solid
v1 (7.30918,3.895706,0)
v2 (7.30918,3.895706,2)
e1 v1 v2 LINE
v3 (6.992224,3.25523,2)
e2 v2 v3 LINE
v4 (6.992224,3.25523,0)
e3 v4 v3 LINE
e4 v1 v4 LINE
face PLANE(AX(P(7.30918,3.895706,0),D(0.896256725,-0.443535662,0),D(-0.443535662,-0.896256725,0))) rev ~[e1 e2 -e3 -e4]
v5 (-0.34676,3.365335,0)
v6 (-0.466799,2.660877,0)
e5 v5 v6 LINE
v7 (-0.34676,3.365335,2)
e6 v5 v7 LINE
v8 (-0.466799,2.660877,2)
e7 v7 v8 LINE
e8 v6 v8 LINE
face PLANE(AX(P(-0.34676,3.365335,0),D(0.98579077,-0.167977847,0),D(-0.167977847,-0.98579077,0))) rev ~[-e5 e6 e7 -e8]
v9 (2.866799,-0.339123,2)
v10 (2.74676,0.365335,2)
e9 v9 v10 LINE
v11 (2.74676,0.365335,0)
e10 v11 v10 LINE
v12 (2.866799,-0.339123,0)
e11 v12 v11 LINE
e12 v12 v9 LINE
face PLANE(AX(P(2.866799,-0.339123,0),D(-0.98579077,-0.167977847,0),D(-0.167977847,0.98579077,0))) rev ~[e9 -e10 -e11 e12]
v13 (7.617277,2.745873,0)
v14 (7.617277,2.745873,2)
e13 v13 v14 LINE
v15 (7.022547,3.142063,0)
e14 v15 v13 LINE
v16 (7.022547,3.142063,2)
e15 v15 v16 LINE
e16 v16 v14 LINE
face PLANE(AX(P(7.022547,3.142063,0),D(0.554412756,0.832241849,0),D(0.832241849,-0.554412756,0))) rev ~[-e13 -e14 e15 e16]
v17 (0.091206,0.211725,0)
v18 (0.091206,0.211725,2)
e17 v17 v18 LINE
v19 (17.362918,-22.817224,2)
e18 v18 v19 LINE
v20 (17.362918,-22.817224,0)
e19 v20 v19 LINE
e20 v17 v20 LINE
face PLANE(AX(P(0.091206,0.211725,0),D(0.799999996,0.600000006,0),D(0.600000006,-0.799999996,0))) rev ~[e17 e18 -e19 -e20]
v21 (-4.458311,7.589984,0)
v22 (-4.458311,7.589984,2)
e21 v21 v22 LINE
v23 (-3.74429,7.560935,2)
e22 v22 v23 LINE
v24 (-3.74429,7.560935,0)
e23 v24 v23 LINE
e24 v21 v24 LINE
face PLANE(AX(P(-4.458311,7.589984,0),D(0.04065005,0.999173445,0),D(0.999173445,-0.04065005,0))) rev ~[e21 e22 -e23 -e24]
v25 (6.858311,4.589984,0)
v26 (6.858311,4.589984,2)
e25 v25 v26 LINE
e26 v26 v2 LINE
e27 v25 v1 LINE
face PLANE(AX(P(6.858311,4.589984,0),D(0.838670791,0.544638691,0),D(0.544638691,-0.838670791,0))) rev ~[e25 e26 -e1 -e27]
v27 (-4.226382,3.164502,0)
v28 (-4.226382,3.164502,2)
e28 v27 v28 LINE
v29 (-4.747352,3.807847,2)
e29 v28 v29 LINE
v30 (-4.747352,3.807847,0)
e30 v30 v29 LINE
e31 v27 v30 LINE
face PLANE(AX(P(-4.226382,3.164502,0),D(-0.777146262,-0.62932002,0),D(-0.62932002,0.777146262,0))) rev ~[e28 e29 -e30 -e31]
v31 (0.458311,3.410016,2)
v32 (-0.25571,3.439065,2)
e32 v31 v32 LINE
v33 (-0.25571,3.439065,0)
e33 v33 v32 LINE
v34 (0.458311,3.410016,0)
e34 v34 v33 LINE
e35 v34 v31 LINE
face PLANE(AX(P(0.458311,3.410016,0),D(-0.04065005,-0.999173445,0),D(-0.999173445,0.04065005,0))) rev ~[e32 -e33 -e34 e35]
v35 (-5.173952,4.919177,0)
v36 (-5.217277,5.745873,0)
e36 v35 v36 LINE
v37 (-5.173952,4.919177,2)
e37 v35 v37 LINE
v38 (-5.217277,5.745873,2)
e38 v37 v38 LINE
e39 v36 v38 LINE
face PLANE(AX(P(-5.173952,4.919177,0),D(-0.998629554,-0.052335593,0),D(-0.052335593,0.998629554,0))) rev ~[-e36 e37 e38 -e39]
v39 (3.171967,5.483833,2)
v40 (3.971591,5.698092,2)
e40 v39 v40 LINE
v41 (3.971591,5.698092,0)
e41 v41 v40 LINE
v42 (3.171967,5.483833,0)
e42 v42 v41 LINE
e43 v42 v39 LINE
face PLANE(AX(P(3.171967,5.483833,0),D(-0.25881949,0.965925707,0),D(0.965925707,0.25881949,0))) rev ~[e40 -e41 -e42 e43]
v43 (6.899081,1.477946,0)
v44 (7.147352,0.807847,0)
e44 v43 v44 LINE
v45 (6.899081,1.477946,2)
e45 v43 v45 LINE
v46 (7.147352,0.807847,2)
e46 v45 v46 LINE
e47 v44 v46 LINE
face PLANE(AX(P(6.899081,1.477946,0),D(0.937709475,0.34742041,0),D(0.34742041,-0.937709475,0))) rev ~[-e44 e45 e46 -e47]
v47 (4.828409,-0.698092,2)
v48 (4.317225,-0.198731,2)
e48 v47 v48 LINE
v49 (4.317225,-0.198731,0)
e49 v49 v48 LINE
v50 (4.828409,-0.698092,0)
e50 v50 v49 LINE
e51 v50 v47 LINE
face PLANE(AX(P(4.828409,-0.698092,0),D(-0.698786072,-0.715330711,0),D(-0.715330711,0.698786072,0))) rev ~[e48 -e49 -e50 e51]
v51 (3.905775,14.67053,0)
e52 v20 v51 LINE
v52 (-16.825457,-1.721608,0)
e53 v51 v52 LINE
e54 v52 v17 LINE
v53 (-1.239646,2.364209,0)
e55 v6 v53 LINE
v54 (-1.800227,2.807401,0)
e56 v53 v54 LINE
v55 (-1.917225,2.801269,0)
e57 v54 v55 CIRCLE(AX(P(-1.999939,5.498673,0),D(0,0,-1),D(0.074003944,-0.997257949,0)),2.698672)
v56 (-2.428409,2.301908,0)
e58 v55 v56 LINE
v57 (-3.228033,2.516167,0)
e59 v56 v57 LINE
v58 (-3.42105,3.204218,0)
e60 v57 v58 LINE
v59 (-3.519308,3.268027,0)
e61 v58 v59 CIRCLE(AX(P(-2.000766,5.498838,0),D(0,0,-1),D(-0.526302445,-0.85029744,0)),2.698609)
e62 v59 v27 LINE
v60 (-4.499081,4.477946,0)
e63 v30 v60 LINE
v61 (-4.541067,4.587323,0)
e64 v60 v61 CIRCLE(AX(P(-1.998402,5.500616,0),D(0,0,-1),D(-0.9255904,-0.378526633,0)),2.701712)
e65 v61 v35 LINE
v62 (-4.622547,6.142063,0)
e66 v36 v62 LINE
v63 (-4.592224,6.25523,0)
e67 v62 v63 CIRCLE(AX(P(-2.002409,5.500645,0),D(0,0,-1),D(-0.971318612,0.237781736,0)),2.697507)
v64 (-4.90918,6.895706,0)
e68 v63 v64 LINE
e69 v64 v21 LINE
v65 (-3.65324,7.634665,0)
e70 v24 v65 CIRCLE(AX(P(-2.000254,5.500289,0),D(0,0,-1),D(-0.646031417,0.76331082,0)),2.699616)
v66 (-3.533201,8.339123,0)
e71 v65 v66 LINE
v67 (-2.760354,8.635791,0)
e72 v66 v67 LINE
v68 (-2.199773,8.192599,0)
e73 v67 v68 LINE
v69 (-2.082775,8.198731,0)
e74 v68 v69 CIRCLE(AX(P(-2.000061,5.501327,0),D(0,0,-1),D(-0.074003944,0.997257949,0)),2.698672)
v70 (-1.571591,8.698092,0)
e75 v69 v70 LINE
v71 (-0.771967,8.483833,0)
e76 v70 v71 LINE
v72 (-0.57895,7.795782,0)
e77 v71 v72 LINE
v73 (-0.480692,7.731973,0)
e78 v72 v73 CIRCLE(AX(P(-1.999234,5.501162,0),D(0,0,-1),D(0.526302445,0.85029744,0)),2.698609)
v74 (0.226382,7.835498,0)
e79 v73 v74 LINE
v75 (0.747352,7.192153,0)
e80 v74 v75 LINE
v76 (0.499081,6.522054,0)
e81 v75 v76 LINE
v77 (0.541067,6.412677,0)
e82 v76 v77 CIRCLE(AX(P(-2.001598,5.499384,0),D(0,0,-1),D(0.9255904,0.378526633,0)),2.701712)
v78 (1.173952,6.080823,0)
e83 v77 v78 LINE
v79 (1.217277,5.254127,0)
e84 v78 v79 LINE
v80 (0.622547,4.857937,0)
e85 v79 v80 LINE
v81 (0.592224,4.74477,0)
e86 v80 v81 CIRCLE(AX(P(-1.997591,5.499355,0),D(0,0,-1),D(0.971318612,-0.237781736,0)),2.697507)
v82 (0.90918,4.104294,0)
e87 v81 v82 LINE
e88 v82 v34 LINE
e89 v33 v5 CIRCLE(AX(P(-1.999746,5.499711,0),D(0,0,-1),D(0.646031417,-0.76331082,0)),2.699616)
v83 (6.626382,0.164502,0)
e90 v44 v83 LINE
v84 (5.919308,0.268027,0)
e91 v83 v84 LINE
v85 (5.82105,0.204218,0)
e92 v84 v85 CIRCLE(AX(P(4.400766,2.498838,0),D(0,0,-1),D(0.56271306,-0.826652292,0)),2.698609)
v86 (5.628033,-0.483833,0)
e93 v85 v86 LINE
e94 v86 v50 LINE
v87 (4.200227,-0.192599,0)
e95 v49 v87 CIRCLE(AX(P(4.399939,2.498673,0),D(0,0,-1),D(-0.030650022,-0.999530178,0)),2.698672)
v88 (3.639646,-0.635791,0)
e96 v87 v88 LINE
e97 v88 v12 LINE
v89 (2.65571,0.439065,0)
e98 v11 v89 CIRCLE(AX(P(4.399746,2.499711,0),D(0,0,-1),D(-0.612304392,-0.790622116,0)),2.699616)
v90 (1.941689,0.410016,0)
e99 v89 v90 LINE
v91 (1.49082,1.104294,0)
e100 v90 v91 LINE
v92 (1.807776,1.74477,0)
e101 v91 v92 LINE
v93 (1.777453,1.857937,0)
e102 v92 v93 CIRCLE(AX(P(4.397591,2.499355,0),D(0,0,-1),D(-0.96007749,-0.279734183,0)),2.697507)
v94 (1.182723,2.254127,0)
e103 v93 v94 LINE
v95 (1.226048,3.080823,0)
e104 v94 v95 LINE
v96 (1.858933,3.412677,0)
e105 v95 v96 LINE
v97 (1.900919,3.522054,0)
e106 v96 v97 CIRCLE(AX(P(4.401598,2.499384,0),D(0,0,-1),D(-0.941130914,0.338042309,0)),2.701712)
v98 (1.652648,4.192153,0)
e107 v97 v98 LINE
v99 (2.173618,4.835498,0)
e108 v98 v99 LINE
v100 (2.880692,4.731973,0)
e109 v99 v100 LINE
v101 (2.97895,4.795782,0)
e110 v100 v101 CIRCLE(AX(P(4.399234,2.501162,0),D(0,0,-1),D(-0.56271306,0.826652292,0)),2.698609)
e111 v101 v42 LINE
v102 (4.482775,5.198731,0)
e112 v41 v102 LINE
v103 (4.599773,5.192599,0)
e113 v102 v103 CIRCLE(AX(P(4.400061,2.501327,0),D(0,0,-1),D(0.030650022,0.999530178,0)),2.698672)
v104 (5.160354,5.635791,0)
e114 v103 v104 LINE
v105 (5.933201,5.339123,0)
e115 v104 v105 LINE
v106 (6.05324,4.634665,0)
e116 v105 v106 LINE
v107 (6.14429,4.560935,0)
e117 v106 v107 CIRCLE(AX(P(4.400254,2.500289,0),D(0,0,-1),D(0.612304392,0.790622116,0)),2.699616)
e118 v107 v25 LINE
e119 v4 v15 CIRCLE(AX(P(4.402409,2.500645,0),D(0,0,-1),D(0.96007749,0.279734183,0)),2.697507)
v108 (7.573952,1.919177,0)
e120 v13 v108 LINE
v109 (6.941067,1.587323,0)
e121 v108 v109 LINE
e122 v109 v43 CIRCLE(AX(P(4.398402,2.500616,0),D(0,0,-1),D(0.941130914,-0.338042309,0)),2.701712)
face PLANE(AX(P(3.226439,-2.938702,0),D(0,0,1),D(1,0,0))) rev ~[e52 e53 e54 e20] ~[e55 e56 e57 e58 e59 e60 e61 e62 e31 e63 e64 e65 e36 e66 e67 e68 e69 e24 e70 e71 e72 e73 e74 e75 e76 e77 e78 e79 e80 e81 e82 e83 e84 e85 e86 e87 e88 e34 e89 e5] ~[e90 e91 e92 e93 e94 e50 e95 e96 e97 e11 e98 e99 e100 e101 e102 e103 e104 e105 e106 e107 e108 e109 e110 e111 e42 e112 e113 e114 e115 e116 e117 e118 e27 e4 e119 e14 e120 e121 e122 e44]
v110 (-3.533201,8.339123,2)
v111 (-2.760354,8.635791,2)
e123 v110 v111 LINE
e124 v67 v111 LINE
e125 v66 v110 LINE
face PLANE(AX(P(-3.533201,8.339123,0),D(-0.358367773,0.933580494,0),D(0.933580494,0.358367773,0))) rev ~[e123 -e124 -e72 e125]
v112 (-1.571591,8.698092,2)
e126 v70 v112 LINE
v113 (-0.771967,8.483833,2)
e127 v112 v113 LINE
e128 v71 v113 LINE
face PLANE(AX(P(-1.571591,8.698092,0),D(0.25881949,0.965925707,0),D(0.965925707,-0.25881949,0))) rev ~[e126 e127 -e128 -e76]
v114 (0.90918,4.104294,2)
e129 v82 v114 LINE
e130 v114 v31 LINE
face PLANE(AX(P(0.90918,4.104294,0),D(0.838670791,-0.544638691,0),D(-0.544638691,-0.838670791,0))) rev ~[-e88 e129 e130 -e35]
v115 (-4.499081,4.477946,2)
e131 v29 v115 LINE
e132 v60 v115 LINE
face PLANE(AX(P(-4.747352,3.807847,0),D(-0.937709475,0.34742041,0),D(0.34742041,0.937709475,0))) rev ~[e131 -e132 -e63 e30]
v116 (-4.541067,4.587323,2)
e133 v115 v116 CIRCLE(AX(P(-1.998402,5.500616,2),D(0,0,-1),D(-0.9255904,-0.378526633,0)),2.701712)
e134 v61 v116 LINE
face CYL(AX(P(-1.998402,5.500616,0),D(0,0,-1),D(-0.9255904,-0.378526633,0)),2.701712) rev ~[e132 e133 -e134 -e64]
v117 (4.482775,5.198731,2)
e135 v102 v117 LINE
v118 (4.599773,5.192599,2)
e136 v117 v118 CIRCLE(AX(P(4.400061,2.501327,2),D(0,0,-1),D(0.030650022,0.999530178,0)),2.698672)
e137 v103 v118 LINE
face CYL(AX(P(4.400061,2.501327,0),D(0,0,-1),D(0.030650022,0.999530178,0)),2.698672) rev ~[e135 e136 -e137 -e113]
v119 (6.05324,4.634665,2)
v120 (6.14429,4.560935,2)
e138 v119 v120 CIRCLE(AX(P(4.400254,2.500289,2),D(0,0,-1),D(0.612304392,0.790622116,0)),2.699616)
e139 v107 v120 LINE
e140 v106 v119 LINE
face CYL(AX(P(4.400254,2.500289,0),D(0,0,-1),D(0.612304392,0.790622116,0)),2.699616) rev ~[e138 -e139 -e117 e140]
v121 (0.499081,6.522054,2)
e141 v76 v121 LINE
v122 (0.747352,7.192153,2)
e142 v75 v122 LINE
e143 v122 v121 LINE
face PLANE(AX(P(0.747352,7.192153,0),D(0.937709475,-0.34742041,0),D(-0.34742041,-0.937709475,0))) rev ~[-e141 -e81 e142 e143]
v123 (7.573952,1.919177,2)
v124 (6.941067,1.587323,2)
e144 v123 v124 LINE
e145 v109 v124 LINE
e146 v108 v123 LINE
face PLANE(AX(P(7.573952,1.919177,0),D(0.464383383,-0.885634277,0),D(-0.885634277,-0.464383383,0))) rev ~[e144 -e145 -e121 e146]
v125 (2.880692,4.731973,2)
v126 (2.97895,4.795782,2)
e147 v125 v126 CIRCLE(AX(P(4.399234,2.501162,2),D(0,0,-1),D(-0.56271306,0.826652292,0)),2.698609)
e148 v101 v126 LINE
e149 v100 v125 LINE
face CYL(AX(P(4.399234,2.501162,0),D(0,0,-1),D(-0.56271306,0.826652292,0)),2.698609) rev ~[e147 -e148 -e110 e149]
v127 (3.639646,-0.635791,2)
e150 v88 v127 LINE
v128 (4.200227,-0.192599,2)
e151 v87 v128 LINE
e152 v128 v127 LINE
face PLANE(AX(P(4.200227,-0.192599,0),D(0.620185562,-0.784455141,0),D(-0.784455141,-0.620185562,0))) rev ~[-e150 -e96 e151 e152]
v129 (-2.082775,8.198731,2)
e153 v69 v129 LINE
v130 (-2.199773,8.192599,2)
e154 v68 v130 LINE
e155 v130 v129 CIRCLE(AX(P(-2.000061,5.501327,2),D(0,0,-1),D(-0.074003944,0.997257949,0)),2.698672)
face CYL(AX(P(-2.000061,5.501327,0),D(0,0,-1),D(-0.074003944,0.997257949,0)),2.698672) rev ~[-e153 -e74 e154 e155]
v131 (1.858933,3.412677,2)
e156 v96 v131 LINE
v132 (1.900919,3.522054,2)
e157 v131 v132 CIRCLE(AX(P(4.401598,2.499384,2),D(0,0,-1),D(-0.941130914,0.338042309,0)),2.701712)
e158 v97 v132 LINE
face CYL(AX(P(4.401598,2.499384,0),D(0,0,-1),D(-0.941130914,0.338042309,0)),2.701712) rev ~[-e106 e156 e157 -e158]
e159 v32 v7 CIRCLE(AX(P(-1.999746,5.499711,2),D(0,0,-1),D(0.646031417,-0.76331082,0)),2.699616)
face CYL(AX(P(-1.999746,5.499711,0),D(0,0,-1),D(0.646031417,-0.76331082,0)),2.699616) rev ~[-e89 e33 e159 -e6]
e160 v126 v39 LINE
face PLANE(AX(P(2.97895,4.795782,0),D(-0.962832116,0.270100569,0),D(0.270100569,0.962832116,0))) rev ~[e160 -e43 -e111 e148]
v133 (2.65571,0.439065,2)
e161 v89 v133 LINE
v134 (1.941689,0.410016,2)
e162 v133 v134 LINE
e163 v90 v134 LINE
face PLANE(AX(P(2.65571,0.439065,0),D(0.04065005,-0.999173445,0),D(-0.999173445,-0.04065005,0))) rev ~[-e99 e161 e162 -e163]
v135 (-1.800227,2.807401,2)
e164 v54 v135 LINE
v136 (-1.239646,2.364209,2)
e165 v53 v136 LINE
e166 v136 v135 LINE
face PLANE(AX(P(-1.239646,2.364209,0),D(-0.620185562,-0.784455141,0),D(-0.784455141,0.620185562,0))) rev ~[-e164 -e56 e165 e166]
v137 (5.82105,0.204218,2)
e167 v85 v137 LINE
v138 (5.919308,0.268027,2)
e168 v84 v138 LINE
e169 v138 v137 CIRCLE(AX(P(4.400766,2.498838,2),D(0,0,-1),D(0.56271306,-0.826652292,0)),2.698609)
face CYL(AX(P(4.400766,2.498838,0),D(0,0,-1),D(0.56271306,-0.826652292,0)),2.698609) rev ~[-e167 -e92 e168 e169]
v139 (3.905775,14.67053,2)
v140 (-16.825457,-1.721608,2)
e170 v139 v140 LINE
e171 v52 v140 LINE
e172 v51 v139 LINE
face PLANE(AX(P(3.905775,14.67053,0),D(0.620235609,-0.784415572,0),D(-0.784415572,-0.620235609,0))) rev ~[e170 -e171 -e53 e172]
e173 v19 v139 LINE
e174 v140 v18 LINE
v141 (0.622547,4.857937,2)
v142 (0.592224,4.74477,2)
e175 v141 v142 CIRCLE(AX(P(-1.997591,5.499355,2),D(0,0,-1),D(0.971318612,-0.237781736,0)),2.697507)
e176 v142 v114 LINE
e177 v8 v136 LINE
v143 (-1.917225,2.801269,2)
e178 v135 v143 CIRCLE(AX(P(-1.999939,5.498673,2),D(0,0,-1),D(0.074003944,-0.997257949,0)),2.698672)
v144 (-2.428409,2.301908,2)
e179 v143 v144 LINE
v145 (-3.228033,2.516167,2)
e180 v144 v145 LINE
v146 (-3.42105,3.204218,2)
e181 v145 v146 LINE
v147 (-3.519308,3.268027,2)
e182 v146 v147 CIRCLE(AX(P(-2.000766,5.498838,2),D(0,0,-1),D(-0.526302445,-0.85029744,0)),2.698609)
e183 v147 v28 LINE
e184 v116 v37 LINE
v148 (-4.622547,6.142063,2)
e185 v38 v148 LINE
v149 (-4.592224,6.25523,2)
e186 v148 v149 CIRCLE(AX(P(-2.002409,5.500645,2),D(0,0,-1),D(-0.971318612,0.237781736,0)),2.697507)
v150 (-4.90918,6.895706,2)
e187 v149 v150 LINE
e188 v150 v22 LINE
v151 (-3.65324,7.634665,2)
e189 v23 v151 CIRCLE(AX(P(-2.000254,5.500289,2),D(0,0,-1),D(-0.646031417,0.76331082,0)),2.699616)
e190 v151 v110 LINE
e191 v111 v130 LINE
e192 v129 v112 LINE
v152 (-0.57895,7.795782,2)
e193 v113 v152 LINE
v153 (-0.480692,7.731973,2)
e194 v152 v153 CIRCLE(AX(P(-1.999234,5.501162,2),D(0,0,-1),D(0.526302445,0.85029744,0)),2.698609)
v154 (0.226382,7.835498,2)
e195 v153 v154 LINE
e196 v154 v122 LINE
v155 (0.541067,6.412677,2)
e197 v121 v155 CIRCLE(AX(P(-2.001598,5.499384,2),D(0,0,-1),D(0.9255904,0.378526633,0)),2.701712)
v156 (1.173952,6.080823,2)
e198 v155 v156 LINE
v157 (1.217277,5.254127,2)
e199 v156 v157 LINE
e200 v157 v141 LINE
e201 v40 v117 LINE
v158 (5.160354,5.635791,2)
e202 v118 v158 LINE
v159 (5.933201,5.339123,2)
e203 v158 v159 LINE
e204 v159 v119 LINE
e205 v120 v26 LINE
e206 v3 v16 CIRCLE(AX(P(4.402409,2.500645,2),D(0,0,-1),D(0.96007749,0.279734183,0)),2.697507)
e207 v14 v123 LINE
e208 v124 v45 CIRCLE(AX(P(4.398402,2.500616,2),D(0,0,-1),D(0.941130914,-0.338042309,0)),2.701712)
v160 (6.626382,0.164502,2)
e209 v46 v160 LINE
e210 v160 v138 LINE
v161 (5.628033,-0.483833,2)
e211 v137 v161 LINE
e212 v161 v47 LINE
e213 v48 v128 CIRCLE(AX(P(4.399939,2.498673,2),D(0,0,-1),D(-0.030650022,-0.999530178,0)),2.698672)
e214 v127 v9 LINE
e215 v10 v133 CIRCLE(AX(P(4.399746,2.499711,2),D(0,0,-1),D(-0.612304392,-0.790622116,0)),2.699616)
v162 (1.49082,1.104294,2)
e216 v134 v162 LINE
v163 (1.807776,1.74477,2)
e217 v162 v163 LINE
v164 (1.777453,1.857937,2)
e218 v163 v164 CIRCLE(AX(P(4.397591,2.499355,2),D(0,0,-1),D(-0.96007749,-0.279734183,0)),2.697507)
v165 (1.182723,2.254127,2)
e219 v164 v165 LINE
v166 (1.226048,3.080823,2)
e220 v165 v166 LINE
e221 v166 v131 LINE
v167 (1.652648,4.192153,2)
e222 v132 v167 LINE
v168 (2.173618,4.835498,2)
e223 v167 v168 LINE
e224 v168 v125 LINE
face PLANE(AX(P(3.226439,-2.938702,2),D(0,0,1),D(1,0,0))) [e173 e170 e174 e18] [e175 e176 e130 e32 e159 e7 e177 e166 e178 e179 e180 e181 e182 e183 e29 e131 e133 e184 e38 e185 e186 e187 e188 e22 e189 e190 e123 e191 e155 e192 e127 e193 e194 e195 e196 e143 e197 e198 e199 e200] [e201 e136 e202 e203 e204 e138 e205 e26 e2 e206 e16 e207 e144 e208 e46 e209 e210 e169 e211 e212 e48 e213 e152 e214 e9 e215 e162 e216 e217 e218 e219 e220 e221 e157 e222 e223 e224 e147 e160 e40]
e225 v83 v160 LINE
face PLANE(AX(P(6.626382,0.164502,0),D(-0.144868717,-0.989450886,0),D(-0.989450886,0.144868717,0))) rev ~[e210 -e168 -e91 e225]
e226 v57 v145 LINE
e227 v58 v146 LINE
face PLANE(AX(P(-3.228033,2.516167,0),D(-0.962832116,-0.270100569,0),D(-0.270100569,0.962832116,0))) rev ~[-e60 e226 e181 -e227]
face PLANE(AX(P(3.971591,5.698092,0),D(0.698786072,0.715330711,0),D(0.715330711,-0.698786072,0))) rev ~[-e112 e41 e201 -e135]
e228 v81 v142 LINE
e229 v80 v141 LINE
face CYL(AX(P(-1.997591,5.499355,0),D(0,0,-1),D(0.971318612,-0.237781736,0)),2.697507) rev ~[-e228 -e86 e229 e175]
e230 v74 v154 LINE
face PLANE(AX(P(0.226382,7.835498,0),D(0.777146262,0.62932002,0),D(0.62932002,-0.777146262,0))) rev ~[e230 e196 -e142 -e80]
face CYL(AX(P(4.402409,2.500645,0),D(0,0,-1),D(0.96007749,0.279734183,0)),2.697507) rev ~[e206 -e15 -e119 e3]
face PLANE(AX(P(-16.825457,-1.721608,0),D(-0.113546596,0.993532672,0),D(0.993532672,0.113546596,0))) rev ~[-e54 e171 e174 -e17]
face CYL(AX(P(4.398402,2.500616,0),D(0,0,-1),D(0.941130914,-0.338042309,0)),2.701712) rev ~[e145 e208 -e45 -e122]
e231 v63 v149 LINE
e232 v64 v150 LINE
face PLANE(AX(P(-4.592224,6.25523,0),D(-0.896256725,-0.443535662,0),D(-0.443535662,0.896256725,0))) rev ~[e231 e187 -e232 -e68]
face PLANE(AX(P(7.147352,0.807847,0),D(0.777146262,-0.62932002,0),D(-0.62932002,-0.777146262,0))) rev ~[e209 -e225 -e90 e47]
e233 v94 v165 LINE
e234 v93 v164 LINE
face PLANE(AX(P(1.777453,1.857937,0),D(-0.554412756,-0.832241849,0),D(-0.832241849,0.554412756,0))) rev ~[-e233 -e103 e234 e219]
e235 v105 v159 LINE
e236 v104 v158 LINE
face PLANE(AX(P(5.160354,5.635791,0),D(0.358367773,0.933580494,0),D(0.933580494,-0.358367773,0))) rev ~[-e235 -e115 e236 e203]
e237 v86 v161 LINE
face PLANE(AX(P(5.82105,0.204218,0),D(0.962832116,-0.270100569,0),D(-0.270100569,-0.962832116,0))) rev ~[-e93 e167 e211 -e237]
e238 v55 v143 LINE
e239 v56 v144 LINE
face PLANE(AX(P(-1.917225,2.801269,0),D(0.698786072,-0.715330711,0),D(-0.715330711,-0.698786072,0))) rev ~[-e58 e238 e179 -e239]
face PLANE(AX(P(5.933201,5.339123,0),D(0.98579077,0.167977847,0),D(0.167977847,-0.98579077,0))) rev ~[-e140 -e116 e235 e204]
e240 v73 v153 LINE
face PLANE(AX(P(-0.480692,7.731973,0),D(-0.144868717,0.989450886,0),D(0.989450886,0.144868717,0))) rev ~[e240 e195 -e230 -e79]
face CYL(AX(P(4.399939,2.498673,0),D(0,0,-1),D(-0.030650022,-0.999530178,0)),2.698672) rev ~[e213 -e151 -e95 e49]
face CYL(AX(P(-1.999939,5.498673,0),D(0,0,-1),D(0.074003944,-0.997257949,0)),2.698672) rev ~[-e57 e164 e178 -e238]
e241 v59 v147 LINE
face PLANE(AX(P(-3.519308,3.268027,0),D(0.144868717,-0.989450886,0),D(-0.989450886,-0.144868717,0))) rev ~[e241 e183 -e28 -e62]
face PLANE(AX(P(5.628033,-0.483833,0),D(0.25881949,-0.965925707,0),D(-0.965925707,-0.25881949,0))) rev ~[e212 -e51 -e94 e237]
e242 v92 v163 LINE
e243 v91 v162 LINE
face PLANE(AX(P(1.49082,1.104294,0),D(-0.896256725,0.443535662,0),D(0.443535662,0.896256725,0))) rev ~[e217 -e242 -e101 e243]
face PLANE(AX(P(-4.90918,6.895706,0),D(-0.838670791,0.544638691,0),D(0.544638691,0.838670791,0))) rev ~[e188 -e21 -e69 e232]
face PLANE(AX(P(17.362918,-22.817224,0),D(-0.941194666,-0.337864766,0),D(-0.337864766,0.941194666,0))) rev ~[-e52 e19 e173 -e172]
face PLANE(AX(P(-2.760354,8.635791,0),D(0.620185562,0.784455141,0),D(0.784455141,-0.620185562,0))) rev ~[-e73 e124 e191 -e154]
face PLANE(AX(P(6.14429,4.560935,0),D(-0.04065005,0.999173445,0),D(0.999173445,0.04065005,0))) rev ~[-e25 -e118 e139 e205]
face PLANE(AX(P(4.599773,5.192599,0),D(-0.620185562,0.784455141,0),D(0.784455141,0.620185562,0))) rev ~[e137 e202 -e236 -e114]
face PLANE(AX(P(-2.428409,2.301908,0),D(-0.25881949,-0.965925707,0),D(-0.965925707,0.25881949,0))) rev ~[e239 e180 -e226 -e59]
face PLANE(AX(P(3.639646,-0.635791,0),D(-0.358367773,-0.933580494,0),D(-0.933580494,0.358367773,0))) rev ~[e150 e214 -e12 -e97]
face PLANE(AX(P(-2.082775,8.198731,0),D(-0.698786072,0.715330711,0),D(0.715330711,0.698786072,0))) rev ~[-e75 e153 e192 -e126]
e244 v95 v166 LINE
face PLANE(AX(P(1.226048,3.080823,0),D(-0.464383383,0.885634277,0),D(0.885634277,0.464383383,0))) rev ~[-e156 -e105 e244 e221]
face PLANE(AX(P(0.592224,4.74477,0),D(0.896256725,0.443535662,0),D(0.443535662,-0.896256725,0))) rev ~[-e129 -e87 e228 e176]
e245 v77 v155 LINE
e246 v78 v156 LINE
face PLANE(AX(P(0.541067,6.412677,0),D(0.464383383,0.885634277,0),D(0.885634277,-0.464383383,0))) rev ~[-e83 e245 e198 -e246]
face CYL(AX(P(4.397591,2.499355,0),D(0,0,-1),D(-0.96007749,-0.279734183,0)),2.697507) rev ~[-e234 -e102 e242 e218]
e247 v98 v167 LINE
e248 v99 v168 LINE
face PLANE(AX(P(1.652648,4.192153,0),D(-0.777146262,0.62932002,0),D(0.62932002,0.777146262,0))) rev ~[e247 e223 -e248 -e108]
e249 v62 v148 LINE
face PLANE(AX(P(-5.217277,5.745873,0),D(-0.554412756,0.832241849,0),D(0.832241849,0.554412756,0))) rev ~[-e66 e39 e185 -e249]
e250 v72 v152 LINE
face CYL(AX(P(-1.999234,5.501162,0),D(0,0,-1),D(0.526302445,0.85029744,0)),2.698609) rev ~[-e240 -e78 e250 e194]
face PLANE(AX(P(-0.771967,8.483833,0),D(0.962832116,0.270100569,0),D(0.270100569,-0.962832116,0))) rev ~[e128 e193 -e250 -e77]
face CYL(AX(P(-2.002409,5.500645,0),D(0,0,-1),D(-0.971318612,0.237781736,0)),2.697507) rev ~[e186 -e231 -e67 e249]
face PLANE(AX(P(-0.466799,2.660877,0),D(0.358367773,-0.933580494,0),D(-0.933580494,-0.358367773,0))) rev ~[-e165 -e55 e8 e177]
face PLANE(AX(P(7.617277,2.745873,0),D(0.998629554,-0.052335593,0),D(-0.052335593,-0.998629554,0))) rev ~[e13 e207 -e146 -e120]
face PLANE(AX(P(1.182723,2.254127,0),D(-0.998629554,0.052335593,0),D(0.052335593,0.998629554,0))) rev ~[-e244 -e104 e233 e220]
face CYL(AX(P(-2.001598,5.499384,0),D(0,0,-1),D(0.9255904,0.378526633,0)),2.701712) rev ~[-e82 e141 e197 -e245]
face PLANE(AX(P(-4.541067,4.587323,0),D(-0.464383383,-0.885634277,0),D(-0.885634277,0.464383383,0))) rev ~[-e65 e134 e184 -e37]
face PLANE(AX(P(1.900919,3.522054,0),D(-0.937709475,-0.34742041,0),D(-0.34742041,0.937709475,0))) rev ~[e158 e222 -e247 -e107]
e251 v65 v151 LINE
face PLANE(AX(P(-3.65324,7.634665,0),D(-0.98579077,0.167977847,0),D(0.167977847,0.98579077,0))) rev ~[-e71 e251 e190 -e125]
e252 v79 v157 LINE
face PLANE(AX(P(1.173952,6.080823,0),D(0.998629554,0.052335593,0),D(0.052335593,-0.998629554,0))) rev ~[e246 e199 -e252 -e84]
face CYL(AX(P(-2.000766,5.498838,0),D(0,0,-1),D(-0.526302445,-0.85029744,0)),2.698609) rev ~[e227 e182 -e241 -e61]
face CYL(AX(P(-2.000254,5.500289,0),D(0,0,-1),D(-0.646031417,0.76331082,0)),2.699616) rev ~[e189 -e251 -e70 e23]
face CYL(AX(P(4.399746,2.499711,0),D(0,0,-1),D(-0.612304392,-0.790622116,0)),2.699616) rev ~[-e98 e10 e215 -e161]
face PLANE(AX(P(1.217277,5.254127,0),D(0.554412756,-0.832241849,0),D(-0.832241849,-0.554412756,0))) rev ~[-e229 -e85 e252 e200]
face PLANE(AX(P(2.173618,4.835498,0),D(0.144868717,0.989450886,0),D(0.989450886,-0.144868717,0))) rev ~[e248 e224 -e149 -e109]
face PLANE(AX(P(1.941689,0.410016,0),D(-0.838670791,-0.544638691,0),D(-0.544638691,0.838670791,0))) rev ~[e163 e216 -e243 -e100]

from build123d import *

# Parameters (mm, degrees)
F1_DEPTH = 2


with BuildPart() as f1:
    # F0 (on Top) → F1 (new body)
    with BuildSketch(Plane.XY):
        Polygon((17.362918, -22.817224), (3.905775, 14.67053), (-16.825457, -1.721608), (0.091206, 0.211725), align=None)
        with BuildLine():
            ThreePointArc((-4.499081, 4.477946), (-4.520667, 4.532407), (-4.541067, 4.587323))
            Line((-4.541067, 4.587323), (-5.173952, 4.919177))
            Line((-5.173952, 4.919177), (-5.217277, 5.745873))
            Line((-5.217277, 5.745873), (-4.622547, 6.142063))
            ThreePointArc((-4.622547, 6.142063), (-4.608, 6.198811), (-4.592224, 6.25523))
            Line((-4.592224, 6.25523), (-4.90918, 6.895706))
            Line((-4.90918, 6.895706), (-4.458311, 7.589984))
            Line((-4.458311, 7.589984), (-3.74429, 7.560935))
            ThreePointArc((-3.74429, 7.560935), (-3.699165, 7.598294), (-3.65324, 7.634665))
            Line((-3.65324, 7.634665), (-3.533201, 8.339123))
            Line((-3.533201, 8.339123), (-2.760354, 8.635791))
            Line((-2.760354, 8.635791), (-2.199773, 8.192599))
            ThreePointArc((-2.199773, 8.192599), (-2.141307, 8.1963), (-2.082775, 8.198731))
            Line((-2.082775, 8.198731), (-1.571591, 8.698092))
            Line((-1.571591, 8.698092), (-0.771967, 8.483833))
            Line((-0.771967, 8.483833), (-0.57895, 7.795782))
            ThreePointArc((-0.57895, 7.795782), (-0.529475, 7.764411), (-0.480692, 7.731973))
            Line((-0.480692, 7.731973), (0.226382, 7.835498))
            Line((0.226382, 7.835498), (0.747352, 7.192153))
            Line((0.747352, 7.192153), (0.499081, 6.522054))
            ThreePointArc((0.499081, 6.522054), (0.520667, 6.467593), (0.541067, 6.412677))
            Line((0.541067, 6.412677), (1.173952, 6.080823))
            Line((1.173952, 6.080823), (1.217277, 5.254127))
            Line((1.217277, 5.254127), (0.622547, 4.857937))
            ThreePointArc((0.622547, 4.857937), (0.608, 4.801189), (0.592224, 4.74477))
            Line((0.592224, 4.74477), (0.90918, 4.104294))
            Line((0.90918, 4.104294), (0.458311, 3.410016))
            Line((0.458311, 3.410016), (-0.25571, 3.439065))
            ThreePointArc((-0.25571, 3.439065), (-0.300835, 3.401706), (-0.34676, 3.365335))
            Line((-0.34676, 3.365335), (-0.466799, 2.660877))
            Line((-0.466799, 2.660877), (-1.239646, 2.364209))
            Line((-1.239646, 2.364209), (-1.800227, 2.807401))
            ThreePointArc((-1.800227, 2.807401), (-1.858693, 2.8037), (-1.917225, 2.801269))
            Line((-1.917225, 2.801269), (-2.428409, 2.301908))
            Line((-2.428409, 2.301908), (-3.228033, 2.516167))
            Line((-3.228033, 2.516167), (-3.42105, 3.204218))
            ThreePointArc((-3.42105, 3.204218), (-3.470525, 3.235589), (-3.519308, 3.268027))
            Line((-3.519308, 3.268027), (-4.226382, 3.164502))
            Line((-4.226382, 3.164502), (-4.747352, 3.807847))
            Line((-4.747352, 3.807847), (-4.499081, 4.477946))
        make_face(mode=Mode.SUBTRACT)
        with BuildLine():
            ThreePointArc((2.880692, 4.731973), (2.929475, 4.764411), (2.97895, 4.795782))
            Line((2.97895, 4.795782), (3.171967, 5.483833))
            Line((3.171967, 5.483833), (3.971591, 5.698092))
            Line((3.971591, 5.698092), (4.482775, 5.198731))
            ThreePointArc((4.482775, 5.198731), (4.541307, 5.1963), (4.599773, 5.192599))
            Line((4.599773, 5.192599), (5.160354, 5.635791))
            Line((5.160354, 5.635791), (5.933201, 5.339123))
            Line((5.933201, 5.339123), (6.05324, 4.634665))
            ThreePointArc((6.05324, 4.634665), (6.099165, 4.598294), (6.14429, 4.560935))
            Line((6.14429, 4.560935), (6.858311, 4.589984))
            Line((6.858311, 4.589984), (7.30918, 3.895706))
            Line((7.30918, 3.895706), (6.992224, 3.25523))
            ThreePointArc((6.992224, 3.25523), (7.008, 3.198811), (7.022547, 3.142063))
            Line((7.022547, 3.142063), (7.617277, 2.745873))
            Line((7.617277, 2.745873), (7.573952, 1.919177))
            Line((7.573952, 1.919177), (6.941067, 1.587323))
            ThreePointArc((6.941067, 1.587323), (6.920667, 1.532407), (6.899081, 1.477946))
            Line((6.899081, 1.477946), (7.147352, 0.807847))
            Line((7.147352, 0.807847), (6.626382, 0.164502))
            Line((6.626382, 0.164502), (5.919308, 0.268027))
            ThreePointArc((5.919308, 0.268027), (5.870525, 0.235589), (5.82105, 0.204218))
            Line((5.82105, 0.204218), (5.628033, -0.483833))
            Line((5.628033, -0.483833), (4.828409, -0.698092))
            Line((4.828409, -0.698092), (4.317225, -0.198731))
            ThreePointArc((4.317225, -0.198731), (4.258693, -0.1963), (4.200227, -0.192599))
            Line((4.200227, -0.192599), (3.639646, -0.635791))
            Line((3.639646, -0.635791), (2.866799, -0.339123))
            Line((2.866799, -0.339123), (2.74676, 0.365335))
            ThreePointArc((2.74676, 0.365335), (2.700835, 0.401706), (2.65571, 0.439065))
            Line((2.65571, 0.439065), (1.941689, 0.410016))
            Line((1.941689, 0.410016), (1.49082, 1.104294))
            Line((1.49082, 1.104294), (1.807776, 1.74477))
            ThreePointArc((1.807776, 1.74477), (1.792, 1.801189), (1.777453, 1.857937))
            Line((1.777453, 1.857937), (1.182723, 2.254127))
            Line((1.182723, 2.254127), (1.226048, 3.080823))
            Line((1.226048, 3.080823), (1.858933, 3.412677))
            ThreePointArc((1.858933, 3.412677), (1.879333, 3.467593), (1.900919, 3.522054))
            Line((1.900919, 3.522054), (1.652648, 4.192153))
            Line((1.652648, 4.192153), (2.173618, 4.835498))
            Line((2.173618, 4.835498), (2.880692, 4.731973))
        make_face(mode=Mode.SUBTRACT)
    extrude(amount=F1_DEPTH)


solid = f1.part
